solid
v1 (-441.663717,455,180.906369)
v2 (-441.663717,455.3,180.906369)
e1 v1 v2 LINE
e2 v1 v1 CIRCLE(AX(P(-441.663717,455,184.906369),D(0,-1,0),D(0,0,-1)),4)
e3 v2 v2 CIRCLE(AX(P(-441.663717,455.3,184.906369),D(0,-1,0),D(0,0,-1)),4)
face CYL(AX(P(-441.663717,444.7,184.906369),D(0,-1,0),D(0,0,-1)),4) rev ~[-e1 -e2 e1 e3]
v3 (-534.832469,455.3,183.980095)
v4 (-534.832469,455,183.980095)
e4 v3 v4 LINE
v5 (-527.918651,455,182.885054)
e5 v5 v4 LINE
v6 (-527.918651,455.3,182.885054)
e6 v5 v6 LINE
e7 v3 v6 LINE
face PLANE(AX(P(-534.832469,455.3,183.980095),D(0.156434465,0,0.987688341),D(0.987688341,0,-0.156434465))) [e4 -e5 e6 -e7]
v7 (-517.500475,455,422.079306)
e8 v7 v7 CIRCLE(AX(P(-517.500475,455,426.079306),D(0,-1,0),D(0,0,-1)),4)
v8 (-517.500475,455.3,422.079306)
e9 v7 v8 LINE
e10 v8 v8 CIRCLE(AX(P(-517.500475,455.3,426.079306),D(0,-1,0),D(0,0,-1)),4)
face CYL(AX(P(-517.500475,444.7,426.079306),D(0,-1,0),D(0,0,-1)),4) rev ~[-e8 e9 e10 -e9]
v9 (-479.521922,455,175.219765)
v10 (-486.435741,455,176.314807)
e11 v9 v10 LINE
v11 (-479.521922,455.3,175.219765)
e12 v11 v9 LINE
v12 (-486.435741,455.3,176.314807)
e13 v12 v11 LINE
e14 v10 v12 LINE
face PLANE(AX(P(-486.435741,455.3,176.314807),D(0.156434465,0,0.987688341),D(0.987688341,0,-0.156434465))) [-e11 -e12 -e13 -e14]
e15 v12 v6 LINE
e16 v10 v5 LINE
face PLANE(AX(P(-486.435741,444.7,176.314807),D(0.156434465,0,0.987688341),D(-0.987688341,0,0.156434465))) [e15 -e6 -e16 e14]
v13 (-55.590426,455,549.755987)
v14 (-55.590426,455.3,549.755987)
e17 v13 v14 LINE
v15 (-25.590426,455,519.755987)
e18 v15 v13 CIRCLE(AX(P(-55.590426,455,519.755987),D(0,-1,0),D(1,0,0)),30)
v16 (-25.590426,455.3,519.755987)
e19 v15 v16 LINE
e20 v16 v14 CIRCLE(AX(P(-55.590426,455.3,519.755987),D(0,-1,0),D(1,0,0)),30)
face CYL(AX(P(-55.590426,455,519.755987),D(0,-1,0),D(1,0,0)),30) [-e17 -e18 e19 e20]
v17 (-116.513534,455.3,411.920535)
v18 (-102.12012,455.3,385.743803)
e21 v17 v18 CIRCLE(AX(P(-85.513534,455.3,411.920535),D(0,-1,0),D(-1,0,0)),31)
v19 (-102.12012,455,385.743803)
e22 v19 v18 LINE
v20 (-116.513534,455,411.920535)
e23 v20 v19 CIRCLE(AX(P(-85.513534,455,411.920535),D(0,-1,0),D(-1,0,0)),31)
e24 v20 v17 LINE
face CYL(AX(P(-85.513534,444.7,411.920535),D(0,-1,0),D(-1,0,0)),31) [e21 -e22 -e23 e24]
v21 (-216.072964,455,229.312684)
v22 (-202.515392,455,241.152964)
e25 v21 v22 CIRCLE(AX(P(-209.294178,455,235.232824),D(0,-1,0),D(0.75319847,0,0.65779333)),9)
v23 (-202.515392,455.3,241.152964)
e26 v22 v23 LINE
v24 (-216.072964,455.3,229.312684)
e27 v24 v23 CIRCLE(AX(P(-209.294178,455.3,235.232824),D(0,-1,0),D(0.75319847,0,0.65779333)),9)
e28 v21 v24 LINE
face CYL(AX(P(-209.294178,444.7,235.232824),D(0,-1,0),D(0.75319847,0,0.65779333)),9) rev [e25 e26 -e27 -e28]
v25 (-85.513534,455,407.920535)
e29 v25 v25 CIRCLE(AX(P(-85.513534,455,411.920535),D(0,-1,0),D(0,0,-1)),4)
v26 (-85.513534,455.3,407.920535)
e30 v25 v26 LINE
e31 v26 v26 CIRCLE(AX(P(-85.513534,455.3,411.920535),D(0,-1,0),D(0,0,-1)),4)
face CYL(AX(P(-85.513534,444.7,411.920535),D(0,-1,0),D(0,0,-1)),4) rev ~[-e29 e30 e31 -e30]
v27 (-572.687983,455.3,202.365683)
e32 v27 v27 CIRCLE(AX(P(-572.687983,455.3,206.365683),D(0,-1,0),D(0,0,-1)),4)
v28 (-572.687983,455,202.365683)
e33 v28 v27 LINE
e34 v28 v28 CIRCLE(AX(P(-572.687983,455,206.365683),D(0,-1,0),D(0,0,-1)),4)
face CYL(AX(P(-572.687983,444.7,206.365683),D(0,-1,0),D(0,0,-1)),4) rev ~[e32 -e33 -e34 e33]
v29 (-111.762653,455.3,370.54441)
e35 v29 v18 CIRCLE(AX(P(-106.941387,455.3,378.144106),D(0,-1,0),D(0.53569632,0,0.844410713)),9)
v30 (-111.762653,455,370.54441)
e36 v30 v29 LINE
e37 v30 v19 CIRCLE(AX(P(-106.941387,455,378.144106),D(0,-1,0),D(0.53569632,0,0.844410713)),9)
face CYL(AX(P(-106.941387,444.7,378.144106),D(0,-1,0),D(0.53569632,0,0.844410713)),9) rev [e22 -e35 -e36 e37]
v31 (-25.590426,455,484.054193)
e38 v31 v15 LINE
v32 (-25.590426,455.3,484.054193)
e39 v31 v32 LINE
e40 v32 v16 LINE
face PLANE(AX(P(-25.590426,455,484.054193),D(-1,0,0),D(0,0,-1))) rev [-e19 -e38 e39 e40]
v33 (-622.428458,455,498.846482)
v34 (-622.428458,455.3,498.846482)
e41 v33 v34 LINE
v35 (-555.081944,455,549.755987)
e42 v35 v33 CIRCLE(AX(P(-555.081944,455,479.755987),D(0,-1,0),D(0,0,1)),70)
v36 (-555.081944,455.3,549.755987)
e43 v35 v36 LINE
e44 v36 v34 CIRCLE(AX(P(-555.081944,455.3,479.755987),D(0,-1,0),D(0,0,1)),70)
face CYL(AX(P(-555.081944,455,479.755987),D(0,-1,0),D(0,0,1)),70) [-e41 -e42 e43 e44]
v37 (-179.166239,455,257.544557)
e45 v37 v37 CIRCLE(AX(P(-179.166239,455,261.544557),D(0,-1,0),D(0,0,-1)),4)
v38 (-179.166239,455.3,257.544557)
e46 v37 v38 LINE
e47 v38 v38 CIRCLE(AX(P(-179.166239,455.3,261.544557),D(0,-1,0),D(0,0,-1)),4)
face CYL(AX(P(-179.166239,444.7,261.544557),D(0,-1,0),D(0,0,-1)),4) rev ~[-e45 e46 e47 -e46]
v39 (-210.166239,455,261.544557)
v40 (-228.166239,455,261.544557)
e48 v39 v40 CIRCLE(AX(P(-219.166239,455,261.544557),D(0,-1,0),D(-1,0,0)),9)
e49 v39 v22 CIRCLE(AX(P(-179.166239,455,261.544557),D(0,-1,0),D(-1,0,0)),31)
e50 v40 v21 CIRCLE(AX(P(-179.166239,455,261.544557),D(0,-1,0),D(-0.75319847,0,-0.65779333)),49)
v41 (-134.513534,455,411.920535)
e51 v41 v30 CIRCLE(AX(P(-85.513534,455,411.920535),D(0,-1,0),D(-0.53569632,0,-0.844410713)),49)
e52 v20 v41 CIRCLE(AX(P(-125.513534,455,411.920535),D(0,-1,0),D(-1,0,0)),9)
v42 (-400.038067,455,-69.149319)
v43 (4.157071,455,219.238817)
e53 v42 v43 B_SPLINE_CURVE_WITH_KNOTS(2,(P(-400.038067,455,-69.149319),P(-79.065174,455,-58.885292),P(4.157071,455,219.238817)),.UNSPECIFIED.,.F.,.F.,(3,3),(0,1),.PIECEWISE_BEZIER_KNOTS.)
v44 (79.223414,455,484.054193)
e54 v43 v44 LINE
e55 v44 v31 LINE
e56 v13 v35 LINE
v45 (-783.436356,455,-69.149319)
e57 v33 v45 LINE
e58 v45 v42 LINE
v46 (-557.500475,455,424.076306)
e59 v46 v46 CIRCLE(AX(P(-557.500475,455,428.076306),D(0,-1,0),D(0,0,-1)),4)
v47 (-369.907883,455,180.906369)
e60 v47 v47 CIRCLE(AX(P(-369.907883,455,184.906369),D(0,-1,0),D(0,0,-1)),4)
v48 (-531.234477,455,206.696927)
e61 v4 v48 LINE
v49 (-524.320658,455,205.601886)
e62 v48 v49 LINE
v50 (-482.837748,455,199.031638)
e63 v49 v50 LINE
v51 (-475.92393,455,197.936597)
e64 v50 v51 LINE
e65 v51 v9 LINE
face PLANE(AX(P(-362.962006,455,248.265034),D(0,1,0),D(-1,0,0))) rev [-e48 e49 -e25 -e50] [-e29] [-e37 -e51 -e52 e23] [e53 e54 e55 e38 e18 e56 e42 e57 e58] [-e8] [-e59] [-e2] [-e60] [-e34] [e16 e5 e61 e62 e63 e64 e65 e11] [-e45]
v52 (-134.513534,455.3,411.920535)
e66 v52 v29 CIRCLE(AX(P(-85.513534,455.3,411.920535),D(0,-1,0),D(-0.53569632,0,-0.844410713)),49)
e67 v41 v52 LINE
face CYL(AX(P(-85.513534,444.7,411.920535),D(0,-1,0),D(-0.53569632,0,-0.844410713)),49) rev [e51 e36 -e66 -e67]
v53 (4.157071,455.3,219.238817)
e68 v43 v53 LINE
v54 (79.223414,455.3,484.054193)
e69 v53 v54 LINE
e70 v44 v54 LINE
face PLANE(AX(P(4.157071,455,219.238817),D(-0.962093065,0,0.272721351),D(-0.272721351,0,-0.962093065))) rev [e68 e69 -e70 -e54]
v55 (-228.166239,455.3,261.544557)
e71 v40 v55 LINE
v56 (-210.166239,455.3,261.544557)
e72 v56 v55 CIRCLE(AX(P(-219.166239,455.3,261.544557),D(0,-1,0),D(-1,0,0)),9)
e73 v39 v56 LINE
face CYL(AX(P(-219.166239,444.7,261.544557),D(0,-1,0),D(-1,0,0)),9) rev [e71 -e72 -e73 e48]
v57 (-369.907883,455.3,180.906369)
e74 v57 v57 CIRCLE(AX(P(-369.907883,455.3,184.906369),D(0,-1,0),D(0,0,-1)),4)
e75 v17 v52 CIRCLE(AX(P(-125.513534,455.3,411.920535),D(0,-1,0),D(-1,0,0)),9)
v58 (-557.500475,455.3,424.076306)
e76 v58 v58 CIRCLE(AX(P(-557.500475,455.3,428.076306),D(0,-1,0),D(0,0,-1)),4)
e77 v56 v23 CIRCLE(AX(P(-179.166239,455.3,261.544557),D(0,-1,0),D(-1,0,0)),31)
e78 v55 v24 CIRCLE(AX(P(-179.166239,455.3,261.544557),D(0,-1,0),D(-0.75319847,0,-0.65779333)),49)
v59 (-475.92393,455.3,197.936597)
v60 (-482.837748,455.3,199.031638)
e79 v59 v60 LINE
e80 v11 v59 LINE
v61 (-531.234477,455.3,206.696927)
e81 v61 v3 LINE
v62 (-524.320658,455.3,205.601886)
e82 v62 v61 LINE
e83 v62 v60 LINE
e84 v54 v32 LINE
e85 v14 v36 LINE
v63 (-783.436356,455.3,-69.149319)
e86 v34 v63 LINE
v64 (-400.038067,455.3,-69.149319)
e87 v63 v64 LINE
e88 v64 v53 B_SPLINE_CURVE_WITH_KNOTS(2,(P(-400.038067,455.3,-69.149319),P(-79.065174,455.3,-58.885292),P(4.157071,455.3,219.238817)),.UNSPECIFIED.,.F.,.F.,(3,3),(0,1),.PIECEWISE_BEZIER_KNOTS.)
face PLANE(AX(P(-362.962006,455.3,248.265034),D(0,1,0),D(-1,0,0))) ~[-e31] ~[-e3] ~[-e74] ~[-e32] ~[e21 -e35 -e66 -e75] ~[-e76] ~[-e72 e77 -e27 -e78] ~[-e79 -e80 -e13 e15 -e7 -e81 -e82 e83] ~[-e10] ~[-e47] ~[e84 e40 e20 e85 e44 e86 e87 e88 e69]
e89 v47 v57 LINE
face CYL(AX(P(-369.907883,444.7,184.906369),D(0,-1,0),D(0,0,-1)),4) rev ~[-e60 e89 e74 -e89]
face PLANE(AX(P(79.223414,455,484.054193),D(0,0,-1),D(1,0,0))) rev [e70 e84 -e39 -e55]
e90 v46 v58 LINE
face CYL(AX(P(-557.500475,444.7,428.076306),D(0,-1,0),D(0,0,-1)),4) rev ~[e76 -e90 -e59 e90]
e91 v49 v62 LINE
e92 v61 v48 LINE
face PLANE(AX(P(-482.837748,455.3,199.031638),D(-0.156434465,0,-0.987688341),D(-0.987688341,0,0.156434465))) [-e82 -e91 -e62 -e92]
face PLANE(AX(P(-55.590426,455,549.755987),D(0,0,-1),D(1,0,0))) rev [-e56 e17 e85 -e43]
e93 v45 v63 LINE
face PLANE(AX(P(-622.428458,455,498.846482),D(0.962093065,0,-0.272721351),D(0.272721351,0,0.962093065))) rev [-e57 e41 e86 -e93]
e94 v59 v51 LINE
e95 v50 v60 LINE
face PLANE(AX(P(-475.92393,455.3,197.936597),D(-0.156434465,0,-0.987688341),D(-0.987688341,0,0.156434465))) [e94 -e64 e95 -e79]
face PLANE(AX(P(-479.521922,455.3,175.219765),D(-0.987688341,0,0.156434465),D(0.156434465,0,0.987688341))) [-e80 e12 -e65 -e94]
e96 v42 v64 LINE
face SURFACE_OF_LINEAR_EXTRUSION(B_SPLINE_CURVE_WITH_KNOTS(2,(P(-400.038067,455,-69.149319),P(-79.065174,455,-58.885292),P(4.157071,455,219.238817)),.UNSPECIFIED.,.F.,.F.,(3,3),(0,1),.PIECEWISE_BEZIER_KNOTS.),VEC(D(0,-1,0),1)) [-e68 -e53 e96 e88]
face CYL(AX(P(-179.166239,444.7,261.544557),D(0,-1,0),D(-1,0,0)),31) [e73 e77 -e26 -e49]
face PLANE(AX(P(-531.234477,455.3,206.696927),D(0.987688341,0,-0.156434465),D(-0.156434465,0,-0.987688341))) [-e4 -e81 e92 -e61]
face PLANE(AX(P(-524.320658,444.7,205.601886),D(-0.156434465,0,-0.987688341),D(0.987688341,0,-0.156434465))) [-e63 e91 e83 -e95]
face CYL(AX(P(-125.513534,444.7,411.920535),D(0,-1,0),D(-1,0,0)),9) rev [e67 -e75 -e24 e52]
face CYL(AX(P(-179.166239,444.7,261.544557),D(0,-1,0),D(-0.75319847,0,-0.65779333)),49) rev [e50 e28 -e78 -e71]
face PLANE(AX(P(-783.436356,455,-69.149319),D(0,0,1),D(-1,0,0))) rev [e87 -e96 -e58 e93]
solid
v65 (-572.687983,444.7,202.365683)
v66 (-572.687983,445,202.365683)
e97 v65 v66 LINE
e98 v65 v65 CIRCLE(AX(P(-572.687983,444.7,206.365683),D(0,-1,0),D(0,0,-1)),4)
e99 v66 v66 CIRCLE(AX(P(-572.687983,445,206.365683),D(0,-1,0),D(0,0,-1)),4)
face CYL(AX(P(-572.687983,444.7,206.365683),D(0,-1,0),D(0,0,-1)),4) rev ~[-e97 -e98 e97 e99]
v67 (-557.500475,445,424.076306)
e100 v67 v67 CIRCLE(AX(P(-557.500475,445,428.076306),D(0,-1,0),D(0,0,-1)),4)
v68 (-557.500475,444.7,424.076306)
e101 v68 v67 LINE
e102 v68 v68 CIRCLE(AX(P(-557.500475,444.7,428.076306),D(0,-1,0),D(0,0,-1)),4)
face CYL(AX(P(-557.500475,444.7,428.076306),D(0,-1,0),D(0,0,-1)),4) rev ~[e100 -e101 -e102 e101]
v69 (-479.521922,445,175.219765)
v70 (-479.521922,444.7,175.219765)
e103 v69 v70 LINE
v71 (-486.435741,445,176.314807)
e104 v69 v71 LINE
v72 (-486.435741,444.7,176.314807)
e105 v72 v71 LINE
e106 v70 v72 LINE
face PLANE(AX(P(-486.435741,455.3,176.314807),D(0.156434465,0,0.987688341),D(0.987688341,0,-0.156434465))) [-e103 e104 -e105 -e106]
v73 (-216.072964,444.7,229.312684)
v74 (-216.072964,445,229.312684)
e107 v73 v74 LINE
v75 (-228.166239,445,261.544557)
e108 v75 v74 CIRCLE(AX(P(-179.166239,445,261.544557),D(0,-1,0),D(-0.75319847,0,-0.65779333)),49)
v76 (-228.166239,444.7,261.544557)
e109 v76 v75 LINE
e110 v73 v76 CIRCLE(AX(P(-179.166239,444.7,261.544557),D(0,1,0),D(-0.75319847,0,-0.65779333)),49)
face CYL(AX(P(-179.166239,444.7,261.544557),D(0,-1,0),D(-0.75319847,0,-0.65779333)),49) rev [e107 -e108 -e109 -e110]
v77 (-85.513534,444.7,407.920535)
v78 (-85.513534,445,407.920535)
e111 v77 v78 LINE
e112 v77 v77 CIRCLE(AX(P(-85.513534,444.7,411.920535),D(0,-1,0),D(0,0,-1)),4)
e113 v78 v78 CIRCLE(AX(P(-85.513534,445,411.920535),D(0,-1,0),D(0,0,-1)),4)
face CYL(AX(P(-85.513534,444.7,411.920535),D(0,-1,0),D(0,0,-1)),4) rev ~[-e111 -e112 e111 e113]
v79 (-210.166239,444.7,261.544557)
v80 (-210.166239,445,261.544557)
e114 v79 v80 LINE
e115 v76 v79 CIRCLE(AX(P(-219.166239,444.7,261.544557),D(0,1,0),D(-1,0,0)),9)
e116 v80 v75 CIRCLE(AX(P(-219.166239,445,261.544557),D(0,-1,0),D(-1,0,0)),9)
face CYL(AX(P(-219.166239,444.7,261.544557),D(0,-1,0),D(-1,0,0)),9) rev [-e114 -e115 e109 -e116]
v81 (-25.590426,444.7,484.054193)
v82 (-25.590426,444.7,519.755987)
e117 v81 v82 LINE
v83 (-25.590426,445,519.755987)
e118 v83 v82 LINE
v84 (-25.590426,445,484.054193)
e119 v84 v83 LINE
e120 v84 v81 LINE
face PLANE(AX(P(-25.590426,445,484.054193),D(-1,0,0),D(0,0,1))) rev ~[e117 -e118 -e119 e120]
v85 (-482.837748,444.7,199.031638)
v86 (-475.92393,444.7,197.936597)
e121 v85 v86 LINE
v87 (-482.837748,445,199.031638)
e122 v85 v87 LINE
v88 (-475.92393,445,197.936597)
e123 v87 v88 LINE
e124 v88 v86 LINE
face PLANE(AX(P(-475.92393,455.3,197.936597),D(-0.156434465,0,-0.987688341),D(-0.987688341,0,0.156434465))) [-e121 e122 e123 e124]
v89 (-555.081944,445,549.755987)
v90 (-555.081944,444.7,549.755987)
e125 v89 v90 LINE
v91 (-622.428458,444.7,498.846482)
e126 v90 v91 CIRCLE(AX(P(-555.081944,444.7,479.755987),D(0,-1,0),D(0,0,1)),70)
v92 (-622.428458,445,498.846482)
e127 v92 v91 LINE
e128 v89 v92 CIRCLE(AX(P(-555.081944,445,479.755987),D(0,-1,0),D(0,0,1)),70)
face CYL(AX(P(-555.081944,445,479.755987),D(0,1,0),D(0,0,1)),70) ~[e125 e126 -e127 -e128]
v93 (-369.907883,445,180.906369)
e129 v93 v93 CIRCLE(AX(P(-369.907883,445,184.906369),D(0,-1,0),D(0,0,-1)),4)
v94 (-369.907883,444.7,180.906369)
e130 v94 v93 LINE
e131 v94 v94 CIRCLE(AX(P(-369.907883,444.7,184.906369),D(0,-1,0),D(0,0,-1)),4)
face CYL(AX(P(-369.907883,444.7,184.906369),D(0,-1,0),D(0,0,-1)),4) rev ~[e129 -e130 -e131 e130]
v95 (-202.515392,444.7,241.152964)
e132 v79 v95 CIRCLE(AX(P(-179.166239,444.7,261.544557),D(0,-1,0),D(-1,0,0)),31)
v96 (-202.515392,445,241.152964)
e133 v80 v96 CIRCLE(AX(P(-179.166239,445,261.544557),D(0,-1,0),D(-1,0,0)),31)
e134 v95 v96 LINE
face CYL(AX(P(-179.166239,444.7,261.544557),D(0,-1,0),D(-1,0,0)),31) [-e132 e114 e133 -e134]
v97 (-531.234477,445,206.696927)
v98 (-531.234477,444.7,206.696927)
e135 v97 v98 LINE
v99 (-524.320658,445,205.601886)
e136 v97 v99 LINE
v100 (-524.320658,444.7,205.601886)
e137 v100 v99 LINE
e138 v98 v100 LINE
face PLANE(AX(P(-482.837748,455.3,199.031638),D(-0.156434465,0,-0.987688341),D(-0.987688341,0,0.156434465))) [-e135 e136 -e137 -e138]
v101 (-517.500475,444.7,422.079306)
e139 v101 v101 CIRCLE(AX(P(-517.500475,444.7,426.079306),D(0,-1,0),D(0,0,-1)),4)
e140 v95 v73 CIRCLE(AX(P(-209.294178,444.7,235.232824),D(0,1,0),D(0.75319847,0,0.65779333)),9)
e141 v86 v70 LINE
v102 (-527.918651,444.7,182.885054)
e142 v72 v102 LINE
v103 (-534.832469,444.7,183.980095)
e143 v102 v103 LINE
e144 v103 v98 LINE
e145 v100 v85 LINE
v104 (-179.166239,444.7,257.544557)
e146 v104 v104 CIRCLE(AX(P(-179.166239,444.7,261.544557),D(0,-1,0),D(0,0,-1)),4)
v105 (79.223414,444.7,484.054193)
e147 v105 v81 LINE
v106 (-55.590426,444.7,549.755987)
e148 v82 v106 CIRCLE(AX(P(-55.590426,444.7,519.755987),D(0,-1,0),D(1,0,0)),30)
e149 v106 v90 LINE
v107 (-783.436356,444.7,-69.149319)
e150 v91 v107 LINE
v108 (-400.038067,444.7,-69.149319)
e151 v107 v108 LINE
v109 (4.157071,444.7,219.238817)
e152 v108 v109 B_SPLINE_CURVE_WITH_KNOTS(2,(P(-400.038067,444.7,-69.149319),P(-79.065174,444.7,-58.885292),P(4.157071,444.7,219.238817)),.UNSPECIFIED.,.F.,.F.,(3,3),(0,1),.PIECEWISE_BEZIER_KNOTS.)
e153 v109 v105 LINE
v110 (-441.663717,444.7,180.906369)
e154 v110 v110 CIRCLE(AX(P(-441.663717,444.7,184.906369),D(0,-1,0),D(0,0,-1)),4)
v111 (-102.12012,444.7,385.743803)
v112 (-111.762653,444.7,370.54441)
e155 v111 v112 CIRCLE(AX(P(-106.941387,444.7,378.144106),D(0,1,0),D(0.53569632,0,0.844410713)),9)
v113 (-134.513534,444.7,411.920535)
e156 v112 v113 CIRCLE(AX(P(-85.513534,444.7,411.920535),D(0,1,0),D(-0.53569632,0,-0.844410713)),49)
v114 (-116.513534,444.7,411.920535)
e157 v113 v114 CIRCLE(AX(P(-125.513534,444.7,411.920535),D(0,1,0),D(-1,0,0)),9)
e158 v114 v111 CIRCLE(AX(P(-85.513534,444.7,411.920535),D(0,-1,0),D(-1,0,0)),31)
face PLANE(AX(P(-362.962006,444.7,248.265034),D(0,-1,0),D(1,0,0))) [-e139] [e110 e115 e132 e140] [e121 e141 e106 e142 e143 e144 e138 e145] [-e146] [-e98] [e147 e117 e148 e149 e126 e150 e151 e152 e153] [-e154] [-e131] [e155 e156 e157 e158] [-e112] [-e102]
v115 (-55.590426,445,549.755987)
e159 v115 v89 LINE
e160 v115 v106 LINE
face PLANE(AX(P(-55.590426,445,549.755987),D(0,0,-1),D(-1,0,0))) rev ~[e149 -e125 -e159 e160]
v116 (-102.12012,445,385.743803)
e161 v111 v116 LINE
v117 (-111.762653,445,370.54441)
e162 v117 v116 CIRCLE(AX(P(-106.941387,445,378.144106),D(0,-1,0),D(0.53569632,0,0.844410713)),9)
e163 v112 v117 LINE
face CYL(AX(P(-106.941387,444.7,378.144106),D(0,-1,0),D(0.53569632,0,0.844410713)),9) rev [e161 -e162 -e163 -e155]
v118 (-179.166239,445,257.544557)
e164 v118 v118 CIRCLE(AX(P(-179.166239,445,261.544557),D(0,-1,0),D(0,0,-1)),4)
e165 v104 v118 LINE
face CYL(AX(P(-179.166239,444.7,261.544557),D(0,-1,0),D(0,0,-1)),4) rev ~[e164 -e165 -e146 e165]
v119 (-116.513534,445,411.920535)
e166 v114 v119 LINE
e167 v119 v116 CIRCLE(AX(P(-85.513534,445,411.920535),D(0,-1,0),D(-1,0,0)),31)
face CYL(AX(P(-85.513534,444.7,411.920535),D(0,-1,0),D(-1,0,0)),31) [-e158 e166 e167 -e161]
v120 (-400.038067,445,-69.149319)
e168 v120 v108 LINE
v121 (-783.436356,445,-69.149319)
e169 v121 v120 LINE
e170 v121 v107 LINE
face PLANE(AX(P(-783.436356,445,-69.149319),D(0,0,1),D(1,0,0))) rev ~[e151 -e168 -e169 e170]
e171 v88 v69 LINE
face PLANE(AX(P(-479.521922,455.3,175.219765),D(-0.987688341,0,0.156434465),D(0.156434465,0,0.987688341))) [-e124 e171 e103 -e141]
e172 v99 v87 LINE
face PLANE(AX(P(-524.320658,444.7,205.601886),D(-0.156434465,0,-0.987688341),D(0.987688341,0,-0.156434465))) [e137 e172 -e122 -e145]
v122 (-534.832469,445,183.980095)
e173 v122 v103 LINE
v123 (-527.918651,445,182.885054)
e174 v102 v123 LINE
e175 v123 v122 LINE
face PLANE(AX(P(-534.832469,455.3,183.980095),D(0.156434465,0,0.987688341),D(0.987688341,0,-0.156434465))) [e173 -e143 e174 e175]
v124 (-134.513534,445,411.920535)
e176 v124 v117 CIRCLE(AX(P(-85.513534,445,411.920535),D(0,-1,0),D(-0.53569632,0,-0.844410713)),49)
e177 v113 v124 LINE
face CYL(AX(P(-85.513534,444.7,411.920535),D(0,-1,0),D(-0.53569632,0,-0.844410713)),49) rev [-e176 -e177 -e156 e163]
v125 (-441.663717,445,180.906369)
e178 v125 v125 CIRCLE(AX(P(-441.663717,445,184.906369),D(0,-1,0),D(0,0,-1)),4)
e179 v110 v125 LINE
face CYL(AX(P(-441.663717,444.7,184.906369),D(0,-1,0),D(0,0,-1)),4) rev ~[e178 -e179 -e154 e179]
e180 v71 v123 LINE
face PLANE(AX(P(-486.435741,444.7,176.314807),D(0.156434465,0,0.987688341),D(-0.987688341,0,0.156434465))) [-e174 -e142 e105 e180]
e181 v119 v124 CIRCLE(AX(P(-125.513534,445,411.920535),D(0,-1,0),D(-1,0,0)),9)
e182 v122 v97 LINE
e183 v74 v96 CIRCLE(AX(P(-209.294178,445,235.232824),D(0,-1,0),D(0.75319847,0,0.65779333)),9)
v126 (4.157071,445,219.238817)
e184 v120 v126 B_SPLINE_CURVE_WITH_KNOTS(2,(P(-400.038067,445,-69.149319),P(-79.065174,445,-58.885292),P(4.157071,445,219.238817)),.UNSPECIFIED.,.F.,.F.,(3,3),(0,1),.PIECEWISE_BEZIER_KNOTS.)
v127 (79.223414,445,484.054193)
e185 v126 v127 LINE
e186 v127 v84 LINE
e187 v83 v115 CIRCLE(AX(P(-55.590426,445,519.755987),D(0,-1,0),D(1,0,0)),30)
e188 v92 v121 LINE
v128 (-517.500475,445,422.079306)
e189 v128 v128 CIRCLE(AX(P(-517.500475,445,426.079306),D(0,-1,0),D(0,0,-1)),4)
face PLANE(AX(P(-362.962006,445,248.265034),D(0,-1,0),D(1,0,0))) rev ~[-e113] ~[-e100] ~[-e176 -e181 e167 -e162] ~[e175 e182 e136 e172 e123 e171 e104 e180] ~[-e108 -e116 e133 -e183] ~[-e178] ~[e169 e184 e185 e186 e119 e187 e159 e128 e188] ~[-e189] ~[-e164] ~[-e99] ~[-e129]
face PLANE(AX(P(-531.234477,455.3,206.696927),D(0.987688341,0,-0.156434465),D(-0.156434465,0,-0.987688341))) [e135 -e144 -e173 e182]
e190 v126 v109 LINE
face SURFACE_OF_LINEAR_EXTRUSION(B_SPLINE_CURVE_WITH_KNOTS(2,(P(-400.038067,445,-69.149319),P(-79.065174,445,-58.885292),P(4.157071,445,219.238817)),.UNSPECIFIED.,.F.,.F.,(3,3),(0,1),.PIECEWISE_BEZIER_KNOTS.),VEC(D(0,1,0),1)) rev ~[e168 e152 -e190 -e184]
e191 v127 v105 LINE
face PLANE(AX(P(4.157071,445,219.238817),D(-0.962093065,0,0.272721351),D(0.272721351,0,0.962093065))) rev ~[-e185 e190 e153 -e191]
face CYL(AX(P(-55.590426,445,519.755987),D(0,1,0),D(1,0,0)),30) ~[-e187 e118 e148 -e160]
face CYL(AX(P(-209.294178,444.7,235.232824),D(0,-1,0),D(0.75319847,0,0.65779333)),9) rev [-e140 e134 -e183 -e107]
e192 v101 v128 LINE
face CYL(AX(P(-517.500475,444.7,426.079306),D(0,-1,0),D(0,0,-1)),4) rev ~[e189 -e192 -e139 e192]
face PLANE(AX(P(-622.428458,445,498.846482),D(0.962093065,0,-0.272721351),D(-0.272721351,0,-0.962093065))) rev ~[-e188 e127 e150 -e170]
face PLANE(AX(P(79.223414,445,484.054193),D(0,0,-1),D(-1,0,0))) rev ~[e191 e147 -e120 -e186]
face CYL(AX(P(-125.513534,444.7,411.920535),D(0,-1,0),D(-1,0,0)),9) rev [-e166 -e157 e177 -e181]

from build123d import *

# Parameters (mm, degrees)
DODANIE_WYCI_GNI_CIE1_DEPTH = 0.3
SZKIC3_R                    = 4
WYTNIJ_WYCI_GNI_CIE1_DEPTH  = 40
WYTNIJ_WYCI_GNI_CIE2_DEPTH  = 958.139765163


with BuildPart() as part:
    # Szkic1 → Dodanie-wyciągnięcie1 (new body)
    with BuildSketch(Plane.XZ.offset(-445)):
        with BuildLine():
            Line((-783.436356075, -69.14931872), (-400.038066875, -69.14931873))
            add(Edge.make_bspline(
                [(-400.038066875, -69.14931873), (-79.065173683, -58.88529232), (4.157071393, 219.238816637)],
                knots=[0, 0, 0, 1, 1, 1], degree=2))
            Line((4.157071393, 219.238816637), (79.223413624, 484.054193396))
            Line((79.223413624, 484.054193396), (-25.590426412, 484.054193396))
            Line((-25.590426412, 484.054193396), (-25.590426412, 519.755987478))
            ThreePointArc((-25.590426412, 519.755987478), (-34.377222976, 540.969190913), (-55.590426412, 549.755987478))
            Line((-55.590426412, 549.755987478), (-555.081943572, 549.755987478))
            ThreePointArc((-555.081943572, 549.755987478), (-597.293703671, 535.596540029), (-622.42845809, 498.846482029))
            Line((-622.42845809, 498.846482029), (-783.436356075, -69.14931872))
        make_face()
    extrude(amount=DODANIE_WYCI_GNI_CIE1_DEPTH)


with BuildPart() as body_2:
    # Lustro2: mirrored copy
    add(part.part.mirror(Plane.ZX.offset(450)))


with BuildPart() as wytnij_wyci_gni_cie1_tool:
    # Szkic3 → Wytnij-wyciągnięcie1 (new body)
    with BuildSketch(Plane.XZ.offset(-444.7)):
        with Locations(Location((-572.687982615, 206.365683115, 0), (0, 0, 270))):
            Circle(SZKIC3_R)
        with Locations(Location((-441.66371711, 184.906368669, 0), (0, 0, 270))):
            Circle(SZKIC3_R)
        with Locations(Location((-369.907883248, 184.906368669, 0), (0, 0, 270))):
            Circle(SZKIC3_R)
        with Locations(Location((-557.500474948, 428.076305614, 0), (0, 0, 270))):
            Circle(SZKIC3_R)
        with Locations(Location((-517.500474948, 426.079306347, 0), (0, 0, 270))):
            Circle(SZKIC3_R)
        with Locations(Location((-179.166238959, 261.544556892, 0), (0, 0, 270))):
            Circle(SZKIC3_R)
        with Locations(Location((-85.513533731, 411.920534849, 0), (0, 0, 270))):
            Circle(SZKIC3_R)
        Polygon((-524.320658323, 205.601886031), (-482.837748018, 199.031638499), (-486.435740714, 176.314806666), (-527.918651019, 182.885054197), align=None)
        with BuildLine():
            ThreePointArc((-116.513533731, 411.920534849), (-112.677886877, 396.984072143), (-102.120119655, 385.743802739))
            ThreePointArc((-102.120119655, 385.743802739), (-99.341690118, 373.322839439), (-111.762653418, 370.544409902))
            ThreePointArc((-111.762653418, 370.544409902), (-128.45073709, 388.311287346), (-134.513533731, 411.920534849))
            ThreePointArc((-134.513533731, 411.920534849), (-125.513533731, 420.920534849), (-116.513533731, 411.920534849))
        make_face()
        with BuildLine():
            ThreePointArc((-210.166238959, 261.544556892), (-208.190571246, 250.654738927), (-202.51539152, 241.152963656))
            ThreePointArc((-202.51539152, 241.152963656), (-203.374037775, 228.454037457), (-216.072963974, 229.312683713))
            ThreePointArc((-216.072963974, 229.312683713), (-225.043409348, 244.331618818), (-228.166238959, 261.544556892))
            ThreePointArc((-228.166238959, 261.544556892), (-219.166238959, 270.544556892), (-210.166238959, 261.544556892))
        make_face()
    extrude(amount=-WYTNIJ_WYCI_GNI_CIE1_DEPTH)


with BuildPart() as part_1:
    add(part.part)

    # Wytnij-wyciągnięcie1: cut by wytnij_wyci_gni_cie1_tool
    add(wytnij_wyci_gni_cie1_tool.part, mode=Mode.SUBTRACT)


with BuildPart() as body_2_1:
    add(body_2.part)

    # Wytnij-wyciągnięcie1: cut by wytnij_wyci_gni_cie1_tool
    add(wytnij_wyci_gni_cie1_tool.part, mode=Mode.SUBTRACT)


with BuildPart() as wytnij_wyci_gni_cie2_tool:
    # Szkic4 → Wytnij-wyciągnięcie2 (new, through all)
    with BuildSketch(Plane(origin=(0, 455.3, 0), x_dir=(1, 0, 0), z_dir=(0, 1, 0))):
        Polygon((-527.918651019, -182.885054197), (-486.435740714, -176.314806666), (-479.52192233, -175.21976541), (-475.923929634, -197.936597244), (-482.837748018, -199.031638499), (-531.234476707, -206.696927286), (-534.832469403, -183.980095453), align=None)
    extrude(amount=-WYTNIJ_WYCI_GNI_CIE2_DEPTH)


with BuildPart() as part_2:
    add(part_1.part)

    # Wytnij-wyciągnięcie2: cut by wytnij_wyci_gni_cie2_tool
    add(wytnij_wyci_gni_cie2_tool.part, mode=Mode.SUBTRACT)


with BuildPart() as body_2_2:
    add(body_2_1.part)

    # Wytnij-wyciągnięcie2: cut by wytnij_wyci_gni_cie2_tool
    add(wytnij_wyci_gni_cie2_tool.part, mode=Mode.SUBTRACT)


solid = Compound([part_2.part, body_2_2.part])
